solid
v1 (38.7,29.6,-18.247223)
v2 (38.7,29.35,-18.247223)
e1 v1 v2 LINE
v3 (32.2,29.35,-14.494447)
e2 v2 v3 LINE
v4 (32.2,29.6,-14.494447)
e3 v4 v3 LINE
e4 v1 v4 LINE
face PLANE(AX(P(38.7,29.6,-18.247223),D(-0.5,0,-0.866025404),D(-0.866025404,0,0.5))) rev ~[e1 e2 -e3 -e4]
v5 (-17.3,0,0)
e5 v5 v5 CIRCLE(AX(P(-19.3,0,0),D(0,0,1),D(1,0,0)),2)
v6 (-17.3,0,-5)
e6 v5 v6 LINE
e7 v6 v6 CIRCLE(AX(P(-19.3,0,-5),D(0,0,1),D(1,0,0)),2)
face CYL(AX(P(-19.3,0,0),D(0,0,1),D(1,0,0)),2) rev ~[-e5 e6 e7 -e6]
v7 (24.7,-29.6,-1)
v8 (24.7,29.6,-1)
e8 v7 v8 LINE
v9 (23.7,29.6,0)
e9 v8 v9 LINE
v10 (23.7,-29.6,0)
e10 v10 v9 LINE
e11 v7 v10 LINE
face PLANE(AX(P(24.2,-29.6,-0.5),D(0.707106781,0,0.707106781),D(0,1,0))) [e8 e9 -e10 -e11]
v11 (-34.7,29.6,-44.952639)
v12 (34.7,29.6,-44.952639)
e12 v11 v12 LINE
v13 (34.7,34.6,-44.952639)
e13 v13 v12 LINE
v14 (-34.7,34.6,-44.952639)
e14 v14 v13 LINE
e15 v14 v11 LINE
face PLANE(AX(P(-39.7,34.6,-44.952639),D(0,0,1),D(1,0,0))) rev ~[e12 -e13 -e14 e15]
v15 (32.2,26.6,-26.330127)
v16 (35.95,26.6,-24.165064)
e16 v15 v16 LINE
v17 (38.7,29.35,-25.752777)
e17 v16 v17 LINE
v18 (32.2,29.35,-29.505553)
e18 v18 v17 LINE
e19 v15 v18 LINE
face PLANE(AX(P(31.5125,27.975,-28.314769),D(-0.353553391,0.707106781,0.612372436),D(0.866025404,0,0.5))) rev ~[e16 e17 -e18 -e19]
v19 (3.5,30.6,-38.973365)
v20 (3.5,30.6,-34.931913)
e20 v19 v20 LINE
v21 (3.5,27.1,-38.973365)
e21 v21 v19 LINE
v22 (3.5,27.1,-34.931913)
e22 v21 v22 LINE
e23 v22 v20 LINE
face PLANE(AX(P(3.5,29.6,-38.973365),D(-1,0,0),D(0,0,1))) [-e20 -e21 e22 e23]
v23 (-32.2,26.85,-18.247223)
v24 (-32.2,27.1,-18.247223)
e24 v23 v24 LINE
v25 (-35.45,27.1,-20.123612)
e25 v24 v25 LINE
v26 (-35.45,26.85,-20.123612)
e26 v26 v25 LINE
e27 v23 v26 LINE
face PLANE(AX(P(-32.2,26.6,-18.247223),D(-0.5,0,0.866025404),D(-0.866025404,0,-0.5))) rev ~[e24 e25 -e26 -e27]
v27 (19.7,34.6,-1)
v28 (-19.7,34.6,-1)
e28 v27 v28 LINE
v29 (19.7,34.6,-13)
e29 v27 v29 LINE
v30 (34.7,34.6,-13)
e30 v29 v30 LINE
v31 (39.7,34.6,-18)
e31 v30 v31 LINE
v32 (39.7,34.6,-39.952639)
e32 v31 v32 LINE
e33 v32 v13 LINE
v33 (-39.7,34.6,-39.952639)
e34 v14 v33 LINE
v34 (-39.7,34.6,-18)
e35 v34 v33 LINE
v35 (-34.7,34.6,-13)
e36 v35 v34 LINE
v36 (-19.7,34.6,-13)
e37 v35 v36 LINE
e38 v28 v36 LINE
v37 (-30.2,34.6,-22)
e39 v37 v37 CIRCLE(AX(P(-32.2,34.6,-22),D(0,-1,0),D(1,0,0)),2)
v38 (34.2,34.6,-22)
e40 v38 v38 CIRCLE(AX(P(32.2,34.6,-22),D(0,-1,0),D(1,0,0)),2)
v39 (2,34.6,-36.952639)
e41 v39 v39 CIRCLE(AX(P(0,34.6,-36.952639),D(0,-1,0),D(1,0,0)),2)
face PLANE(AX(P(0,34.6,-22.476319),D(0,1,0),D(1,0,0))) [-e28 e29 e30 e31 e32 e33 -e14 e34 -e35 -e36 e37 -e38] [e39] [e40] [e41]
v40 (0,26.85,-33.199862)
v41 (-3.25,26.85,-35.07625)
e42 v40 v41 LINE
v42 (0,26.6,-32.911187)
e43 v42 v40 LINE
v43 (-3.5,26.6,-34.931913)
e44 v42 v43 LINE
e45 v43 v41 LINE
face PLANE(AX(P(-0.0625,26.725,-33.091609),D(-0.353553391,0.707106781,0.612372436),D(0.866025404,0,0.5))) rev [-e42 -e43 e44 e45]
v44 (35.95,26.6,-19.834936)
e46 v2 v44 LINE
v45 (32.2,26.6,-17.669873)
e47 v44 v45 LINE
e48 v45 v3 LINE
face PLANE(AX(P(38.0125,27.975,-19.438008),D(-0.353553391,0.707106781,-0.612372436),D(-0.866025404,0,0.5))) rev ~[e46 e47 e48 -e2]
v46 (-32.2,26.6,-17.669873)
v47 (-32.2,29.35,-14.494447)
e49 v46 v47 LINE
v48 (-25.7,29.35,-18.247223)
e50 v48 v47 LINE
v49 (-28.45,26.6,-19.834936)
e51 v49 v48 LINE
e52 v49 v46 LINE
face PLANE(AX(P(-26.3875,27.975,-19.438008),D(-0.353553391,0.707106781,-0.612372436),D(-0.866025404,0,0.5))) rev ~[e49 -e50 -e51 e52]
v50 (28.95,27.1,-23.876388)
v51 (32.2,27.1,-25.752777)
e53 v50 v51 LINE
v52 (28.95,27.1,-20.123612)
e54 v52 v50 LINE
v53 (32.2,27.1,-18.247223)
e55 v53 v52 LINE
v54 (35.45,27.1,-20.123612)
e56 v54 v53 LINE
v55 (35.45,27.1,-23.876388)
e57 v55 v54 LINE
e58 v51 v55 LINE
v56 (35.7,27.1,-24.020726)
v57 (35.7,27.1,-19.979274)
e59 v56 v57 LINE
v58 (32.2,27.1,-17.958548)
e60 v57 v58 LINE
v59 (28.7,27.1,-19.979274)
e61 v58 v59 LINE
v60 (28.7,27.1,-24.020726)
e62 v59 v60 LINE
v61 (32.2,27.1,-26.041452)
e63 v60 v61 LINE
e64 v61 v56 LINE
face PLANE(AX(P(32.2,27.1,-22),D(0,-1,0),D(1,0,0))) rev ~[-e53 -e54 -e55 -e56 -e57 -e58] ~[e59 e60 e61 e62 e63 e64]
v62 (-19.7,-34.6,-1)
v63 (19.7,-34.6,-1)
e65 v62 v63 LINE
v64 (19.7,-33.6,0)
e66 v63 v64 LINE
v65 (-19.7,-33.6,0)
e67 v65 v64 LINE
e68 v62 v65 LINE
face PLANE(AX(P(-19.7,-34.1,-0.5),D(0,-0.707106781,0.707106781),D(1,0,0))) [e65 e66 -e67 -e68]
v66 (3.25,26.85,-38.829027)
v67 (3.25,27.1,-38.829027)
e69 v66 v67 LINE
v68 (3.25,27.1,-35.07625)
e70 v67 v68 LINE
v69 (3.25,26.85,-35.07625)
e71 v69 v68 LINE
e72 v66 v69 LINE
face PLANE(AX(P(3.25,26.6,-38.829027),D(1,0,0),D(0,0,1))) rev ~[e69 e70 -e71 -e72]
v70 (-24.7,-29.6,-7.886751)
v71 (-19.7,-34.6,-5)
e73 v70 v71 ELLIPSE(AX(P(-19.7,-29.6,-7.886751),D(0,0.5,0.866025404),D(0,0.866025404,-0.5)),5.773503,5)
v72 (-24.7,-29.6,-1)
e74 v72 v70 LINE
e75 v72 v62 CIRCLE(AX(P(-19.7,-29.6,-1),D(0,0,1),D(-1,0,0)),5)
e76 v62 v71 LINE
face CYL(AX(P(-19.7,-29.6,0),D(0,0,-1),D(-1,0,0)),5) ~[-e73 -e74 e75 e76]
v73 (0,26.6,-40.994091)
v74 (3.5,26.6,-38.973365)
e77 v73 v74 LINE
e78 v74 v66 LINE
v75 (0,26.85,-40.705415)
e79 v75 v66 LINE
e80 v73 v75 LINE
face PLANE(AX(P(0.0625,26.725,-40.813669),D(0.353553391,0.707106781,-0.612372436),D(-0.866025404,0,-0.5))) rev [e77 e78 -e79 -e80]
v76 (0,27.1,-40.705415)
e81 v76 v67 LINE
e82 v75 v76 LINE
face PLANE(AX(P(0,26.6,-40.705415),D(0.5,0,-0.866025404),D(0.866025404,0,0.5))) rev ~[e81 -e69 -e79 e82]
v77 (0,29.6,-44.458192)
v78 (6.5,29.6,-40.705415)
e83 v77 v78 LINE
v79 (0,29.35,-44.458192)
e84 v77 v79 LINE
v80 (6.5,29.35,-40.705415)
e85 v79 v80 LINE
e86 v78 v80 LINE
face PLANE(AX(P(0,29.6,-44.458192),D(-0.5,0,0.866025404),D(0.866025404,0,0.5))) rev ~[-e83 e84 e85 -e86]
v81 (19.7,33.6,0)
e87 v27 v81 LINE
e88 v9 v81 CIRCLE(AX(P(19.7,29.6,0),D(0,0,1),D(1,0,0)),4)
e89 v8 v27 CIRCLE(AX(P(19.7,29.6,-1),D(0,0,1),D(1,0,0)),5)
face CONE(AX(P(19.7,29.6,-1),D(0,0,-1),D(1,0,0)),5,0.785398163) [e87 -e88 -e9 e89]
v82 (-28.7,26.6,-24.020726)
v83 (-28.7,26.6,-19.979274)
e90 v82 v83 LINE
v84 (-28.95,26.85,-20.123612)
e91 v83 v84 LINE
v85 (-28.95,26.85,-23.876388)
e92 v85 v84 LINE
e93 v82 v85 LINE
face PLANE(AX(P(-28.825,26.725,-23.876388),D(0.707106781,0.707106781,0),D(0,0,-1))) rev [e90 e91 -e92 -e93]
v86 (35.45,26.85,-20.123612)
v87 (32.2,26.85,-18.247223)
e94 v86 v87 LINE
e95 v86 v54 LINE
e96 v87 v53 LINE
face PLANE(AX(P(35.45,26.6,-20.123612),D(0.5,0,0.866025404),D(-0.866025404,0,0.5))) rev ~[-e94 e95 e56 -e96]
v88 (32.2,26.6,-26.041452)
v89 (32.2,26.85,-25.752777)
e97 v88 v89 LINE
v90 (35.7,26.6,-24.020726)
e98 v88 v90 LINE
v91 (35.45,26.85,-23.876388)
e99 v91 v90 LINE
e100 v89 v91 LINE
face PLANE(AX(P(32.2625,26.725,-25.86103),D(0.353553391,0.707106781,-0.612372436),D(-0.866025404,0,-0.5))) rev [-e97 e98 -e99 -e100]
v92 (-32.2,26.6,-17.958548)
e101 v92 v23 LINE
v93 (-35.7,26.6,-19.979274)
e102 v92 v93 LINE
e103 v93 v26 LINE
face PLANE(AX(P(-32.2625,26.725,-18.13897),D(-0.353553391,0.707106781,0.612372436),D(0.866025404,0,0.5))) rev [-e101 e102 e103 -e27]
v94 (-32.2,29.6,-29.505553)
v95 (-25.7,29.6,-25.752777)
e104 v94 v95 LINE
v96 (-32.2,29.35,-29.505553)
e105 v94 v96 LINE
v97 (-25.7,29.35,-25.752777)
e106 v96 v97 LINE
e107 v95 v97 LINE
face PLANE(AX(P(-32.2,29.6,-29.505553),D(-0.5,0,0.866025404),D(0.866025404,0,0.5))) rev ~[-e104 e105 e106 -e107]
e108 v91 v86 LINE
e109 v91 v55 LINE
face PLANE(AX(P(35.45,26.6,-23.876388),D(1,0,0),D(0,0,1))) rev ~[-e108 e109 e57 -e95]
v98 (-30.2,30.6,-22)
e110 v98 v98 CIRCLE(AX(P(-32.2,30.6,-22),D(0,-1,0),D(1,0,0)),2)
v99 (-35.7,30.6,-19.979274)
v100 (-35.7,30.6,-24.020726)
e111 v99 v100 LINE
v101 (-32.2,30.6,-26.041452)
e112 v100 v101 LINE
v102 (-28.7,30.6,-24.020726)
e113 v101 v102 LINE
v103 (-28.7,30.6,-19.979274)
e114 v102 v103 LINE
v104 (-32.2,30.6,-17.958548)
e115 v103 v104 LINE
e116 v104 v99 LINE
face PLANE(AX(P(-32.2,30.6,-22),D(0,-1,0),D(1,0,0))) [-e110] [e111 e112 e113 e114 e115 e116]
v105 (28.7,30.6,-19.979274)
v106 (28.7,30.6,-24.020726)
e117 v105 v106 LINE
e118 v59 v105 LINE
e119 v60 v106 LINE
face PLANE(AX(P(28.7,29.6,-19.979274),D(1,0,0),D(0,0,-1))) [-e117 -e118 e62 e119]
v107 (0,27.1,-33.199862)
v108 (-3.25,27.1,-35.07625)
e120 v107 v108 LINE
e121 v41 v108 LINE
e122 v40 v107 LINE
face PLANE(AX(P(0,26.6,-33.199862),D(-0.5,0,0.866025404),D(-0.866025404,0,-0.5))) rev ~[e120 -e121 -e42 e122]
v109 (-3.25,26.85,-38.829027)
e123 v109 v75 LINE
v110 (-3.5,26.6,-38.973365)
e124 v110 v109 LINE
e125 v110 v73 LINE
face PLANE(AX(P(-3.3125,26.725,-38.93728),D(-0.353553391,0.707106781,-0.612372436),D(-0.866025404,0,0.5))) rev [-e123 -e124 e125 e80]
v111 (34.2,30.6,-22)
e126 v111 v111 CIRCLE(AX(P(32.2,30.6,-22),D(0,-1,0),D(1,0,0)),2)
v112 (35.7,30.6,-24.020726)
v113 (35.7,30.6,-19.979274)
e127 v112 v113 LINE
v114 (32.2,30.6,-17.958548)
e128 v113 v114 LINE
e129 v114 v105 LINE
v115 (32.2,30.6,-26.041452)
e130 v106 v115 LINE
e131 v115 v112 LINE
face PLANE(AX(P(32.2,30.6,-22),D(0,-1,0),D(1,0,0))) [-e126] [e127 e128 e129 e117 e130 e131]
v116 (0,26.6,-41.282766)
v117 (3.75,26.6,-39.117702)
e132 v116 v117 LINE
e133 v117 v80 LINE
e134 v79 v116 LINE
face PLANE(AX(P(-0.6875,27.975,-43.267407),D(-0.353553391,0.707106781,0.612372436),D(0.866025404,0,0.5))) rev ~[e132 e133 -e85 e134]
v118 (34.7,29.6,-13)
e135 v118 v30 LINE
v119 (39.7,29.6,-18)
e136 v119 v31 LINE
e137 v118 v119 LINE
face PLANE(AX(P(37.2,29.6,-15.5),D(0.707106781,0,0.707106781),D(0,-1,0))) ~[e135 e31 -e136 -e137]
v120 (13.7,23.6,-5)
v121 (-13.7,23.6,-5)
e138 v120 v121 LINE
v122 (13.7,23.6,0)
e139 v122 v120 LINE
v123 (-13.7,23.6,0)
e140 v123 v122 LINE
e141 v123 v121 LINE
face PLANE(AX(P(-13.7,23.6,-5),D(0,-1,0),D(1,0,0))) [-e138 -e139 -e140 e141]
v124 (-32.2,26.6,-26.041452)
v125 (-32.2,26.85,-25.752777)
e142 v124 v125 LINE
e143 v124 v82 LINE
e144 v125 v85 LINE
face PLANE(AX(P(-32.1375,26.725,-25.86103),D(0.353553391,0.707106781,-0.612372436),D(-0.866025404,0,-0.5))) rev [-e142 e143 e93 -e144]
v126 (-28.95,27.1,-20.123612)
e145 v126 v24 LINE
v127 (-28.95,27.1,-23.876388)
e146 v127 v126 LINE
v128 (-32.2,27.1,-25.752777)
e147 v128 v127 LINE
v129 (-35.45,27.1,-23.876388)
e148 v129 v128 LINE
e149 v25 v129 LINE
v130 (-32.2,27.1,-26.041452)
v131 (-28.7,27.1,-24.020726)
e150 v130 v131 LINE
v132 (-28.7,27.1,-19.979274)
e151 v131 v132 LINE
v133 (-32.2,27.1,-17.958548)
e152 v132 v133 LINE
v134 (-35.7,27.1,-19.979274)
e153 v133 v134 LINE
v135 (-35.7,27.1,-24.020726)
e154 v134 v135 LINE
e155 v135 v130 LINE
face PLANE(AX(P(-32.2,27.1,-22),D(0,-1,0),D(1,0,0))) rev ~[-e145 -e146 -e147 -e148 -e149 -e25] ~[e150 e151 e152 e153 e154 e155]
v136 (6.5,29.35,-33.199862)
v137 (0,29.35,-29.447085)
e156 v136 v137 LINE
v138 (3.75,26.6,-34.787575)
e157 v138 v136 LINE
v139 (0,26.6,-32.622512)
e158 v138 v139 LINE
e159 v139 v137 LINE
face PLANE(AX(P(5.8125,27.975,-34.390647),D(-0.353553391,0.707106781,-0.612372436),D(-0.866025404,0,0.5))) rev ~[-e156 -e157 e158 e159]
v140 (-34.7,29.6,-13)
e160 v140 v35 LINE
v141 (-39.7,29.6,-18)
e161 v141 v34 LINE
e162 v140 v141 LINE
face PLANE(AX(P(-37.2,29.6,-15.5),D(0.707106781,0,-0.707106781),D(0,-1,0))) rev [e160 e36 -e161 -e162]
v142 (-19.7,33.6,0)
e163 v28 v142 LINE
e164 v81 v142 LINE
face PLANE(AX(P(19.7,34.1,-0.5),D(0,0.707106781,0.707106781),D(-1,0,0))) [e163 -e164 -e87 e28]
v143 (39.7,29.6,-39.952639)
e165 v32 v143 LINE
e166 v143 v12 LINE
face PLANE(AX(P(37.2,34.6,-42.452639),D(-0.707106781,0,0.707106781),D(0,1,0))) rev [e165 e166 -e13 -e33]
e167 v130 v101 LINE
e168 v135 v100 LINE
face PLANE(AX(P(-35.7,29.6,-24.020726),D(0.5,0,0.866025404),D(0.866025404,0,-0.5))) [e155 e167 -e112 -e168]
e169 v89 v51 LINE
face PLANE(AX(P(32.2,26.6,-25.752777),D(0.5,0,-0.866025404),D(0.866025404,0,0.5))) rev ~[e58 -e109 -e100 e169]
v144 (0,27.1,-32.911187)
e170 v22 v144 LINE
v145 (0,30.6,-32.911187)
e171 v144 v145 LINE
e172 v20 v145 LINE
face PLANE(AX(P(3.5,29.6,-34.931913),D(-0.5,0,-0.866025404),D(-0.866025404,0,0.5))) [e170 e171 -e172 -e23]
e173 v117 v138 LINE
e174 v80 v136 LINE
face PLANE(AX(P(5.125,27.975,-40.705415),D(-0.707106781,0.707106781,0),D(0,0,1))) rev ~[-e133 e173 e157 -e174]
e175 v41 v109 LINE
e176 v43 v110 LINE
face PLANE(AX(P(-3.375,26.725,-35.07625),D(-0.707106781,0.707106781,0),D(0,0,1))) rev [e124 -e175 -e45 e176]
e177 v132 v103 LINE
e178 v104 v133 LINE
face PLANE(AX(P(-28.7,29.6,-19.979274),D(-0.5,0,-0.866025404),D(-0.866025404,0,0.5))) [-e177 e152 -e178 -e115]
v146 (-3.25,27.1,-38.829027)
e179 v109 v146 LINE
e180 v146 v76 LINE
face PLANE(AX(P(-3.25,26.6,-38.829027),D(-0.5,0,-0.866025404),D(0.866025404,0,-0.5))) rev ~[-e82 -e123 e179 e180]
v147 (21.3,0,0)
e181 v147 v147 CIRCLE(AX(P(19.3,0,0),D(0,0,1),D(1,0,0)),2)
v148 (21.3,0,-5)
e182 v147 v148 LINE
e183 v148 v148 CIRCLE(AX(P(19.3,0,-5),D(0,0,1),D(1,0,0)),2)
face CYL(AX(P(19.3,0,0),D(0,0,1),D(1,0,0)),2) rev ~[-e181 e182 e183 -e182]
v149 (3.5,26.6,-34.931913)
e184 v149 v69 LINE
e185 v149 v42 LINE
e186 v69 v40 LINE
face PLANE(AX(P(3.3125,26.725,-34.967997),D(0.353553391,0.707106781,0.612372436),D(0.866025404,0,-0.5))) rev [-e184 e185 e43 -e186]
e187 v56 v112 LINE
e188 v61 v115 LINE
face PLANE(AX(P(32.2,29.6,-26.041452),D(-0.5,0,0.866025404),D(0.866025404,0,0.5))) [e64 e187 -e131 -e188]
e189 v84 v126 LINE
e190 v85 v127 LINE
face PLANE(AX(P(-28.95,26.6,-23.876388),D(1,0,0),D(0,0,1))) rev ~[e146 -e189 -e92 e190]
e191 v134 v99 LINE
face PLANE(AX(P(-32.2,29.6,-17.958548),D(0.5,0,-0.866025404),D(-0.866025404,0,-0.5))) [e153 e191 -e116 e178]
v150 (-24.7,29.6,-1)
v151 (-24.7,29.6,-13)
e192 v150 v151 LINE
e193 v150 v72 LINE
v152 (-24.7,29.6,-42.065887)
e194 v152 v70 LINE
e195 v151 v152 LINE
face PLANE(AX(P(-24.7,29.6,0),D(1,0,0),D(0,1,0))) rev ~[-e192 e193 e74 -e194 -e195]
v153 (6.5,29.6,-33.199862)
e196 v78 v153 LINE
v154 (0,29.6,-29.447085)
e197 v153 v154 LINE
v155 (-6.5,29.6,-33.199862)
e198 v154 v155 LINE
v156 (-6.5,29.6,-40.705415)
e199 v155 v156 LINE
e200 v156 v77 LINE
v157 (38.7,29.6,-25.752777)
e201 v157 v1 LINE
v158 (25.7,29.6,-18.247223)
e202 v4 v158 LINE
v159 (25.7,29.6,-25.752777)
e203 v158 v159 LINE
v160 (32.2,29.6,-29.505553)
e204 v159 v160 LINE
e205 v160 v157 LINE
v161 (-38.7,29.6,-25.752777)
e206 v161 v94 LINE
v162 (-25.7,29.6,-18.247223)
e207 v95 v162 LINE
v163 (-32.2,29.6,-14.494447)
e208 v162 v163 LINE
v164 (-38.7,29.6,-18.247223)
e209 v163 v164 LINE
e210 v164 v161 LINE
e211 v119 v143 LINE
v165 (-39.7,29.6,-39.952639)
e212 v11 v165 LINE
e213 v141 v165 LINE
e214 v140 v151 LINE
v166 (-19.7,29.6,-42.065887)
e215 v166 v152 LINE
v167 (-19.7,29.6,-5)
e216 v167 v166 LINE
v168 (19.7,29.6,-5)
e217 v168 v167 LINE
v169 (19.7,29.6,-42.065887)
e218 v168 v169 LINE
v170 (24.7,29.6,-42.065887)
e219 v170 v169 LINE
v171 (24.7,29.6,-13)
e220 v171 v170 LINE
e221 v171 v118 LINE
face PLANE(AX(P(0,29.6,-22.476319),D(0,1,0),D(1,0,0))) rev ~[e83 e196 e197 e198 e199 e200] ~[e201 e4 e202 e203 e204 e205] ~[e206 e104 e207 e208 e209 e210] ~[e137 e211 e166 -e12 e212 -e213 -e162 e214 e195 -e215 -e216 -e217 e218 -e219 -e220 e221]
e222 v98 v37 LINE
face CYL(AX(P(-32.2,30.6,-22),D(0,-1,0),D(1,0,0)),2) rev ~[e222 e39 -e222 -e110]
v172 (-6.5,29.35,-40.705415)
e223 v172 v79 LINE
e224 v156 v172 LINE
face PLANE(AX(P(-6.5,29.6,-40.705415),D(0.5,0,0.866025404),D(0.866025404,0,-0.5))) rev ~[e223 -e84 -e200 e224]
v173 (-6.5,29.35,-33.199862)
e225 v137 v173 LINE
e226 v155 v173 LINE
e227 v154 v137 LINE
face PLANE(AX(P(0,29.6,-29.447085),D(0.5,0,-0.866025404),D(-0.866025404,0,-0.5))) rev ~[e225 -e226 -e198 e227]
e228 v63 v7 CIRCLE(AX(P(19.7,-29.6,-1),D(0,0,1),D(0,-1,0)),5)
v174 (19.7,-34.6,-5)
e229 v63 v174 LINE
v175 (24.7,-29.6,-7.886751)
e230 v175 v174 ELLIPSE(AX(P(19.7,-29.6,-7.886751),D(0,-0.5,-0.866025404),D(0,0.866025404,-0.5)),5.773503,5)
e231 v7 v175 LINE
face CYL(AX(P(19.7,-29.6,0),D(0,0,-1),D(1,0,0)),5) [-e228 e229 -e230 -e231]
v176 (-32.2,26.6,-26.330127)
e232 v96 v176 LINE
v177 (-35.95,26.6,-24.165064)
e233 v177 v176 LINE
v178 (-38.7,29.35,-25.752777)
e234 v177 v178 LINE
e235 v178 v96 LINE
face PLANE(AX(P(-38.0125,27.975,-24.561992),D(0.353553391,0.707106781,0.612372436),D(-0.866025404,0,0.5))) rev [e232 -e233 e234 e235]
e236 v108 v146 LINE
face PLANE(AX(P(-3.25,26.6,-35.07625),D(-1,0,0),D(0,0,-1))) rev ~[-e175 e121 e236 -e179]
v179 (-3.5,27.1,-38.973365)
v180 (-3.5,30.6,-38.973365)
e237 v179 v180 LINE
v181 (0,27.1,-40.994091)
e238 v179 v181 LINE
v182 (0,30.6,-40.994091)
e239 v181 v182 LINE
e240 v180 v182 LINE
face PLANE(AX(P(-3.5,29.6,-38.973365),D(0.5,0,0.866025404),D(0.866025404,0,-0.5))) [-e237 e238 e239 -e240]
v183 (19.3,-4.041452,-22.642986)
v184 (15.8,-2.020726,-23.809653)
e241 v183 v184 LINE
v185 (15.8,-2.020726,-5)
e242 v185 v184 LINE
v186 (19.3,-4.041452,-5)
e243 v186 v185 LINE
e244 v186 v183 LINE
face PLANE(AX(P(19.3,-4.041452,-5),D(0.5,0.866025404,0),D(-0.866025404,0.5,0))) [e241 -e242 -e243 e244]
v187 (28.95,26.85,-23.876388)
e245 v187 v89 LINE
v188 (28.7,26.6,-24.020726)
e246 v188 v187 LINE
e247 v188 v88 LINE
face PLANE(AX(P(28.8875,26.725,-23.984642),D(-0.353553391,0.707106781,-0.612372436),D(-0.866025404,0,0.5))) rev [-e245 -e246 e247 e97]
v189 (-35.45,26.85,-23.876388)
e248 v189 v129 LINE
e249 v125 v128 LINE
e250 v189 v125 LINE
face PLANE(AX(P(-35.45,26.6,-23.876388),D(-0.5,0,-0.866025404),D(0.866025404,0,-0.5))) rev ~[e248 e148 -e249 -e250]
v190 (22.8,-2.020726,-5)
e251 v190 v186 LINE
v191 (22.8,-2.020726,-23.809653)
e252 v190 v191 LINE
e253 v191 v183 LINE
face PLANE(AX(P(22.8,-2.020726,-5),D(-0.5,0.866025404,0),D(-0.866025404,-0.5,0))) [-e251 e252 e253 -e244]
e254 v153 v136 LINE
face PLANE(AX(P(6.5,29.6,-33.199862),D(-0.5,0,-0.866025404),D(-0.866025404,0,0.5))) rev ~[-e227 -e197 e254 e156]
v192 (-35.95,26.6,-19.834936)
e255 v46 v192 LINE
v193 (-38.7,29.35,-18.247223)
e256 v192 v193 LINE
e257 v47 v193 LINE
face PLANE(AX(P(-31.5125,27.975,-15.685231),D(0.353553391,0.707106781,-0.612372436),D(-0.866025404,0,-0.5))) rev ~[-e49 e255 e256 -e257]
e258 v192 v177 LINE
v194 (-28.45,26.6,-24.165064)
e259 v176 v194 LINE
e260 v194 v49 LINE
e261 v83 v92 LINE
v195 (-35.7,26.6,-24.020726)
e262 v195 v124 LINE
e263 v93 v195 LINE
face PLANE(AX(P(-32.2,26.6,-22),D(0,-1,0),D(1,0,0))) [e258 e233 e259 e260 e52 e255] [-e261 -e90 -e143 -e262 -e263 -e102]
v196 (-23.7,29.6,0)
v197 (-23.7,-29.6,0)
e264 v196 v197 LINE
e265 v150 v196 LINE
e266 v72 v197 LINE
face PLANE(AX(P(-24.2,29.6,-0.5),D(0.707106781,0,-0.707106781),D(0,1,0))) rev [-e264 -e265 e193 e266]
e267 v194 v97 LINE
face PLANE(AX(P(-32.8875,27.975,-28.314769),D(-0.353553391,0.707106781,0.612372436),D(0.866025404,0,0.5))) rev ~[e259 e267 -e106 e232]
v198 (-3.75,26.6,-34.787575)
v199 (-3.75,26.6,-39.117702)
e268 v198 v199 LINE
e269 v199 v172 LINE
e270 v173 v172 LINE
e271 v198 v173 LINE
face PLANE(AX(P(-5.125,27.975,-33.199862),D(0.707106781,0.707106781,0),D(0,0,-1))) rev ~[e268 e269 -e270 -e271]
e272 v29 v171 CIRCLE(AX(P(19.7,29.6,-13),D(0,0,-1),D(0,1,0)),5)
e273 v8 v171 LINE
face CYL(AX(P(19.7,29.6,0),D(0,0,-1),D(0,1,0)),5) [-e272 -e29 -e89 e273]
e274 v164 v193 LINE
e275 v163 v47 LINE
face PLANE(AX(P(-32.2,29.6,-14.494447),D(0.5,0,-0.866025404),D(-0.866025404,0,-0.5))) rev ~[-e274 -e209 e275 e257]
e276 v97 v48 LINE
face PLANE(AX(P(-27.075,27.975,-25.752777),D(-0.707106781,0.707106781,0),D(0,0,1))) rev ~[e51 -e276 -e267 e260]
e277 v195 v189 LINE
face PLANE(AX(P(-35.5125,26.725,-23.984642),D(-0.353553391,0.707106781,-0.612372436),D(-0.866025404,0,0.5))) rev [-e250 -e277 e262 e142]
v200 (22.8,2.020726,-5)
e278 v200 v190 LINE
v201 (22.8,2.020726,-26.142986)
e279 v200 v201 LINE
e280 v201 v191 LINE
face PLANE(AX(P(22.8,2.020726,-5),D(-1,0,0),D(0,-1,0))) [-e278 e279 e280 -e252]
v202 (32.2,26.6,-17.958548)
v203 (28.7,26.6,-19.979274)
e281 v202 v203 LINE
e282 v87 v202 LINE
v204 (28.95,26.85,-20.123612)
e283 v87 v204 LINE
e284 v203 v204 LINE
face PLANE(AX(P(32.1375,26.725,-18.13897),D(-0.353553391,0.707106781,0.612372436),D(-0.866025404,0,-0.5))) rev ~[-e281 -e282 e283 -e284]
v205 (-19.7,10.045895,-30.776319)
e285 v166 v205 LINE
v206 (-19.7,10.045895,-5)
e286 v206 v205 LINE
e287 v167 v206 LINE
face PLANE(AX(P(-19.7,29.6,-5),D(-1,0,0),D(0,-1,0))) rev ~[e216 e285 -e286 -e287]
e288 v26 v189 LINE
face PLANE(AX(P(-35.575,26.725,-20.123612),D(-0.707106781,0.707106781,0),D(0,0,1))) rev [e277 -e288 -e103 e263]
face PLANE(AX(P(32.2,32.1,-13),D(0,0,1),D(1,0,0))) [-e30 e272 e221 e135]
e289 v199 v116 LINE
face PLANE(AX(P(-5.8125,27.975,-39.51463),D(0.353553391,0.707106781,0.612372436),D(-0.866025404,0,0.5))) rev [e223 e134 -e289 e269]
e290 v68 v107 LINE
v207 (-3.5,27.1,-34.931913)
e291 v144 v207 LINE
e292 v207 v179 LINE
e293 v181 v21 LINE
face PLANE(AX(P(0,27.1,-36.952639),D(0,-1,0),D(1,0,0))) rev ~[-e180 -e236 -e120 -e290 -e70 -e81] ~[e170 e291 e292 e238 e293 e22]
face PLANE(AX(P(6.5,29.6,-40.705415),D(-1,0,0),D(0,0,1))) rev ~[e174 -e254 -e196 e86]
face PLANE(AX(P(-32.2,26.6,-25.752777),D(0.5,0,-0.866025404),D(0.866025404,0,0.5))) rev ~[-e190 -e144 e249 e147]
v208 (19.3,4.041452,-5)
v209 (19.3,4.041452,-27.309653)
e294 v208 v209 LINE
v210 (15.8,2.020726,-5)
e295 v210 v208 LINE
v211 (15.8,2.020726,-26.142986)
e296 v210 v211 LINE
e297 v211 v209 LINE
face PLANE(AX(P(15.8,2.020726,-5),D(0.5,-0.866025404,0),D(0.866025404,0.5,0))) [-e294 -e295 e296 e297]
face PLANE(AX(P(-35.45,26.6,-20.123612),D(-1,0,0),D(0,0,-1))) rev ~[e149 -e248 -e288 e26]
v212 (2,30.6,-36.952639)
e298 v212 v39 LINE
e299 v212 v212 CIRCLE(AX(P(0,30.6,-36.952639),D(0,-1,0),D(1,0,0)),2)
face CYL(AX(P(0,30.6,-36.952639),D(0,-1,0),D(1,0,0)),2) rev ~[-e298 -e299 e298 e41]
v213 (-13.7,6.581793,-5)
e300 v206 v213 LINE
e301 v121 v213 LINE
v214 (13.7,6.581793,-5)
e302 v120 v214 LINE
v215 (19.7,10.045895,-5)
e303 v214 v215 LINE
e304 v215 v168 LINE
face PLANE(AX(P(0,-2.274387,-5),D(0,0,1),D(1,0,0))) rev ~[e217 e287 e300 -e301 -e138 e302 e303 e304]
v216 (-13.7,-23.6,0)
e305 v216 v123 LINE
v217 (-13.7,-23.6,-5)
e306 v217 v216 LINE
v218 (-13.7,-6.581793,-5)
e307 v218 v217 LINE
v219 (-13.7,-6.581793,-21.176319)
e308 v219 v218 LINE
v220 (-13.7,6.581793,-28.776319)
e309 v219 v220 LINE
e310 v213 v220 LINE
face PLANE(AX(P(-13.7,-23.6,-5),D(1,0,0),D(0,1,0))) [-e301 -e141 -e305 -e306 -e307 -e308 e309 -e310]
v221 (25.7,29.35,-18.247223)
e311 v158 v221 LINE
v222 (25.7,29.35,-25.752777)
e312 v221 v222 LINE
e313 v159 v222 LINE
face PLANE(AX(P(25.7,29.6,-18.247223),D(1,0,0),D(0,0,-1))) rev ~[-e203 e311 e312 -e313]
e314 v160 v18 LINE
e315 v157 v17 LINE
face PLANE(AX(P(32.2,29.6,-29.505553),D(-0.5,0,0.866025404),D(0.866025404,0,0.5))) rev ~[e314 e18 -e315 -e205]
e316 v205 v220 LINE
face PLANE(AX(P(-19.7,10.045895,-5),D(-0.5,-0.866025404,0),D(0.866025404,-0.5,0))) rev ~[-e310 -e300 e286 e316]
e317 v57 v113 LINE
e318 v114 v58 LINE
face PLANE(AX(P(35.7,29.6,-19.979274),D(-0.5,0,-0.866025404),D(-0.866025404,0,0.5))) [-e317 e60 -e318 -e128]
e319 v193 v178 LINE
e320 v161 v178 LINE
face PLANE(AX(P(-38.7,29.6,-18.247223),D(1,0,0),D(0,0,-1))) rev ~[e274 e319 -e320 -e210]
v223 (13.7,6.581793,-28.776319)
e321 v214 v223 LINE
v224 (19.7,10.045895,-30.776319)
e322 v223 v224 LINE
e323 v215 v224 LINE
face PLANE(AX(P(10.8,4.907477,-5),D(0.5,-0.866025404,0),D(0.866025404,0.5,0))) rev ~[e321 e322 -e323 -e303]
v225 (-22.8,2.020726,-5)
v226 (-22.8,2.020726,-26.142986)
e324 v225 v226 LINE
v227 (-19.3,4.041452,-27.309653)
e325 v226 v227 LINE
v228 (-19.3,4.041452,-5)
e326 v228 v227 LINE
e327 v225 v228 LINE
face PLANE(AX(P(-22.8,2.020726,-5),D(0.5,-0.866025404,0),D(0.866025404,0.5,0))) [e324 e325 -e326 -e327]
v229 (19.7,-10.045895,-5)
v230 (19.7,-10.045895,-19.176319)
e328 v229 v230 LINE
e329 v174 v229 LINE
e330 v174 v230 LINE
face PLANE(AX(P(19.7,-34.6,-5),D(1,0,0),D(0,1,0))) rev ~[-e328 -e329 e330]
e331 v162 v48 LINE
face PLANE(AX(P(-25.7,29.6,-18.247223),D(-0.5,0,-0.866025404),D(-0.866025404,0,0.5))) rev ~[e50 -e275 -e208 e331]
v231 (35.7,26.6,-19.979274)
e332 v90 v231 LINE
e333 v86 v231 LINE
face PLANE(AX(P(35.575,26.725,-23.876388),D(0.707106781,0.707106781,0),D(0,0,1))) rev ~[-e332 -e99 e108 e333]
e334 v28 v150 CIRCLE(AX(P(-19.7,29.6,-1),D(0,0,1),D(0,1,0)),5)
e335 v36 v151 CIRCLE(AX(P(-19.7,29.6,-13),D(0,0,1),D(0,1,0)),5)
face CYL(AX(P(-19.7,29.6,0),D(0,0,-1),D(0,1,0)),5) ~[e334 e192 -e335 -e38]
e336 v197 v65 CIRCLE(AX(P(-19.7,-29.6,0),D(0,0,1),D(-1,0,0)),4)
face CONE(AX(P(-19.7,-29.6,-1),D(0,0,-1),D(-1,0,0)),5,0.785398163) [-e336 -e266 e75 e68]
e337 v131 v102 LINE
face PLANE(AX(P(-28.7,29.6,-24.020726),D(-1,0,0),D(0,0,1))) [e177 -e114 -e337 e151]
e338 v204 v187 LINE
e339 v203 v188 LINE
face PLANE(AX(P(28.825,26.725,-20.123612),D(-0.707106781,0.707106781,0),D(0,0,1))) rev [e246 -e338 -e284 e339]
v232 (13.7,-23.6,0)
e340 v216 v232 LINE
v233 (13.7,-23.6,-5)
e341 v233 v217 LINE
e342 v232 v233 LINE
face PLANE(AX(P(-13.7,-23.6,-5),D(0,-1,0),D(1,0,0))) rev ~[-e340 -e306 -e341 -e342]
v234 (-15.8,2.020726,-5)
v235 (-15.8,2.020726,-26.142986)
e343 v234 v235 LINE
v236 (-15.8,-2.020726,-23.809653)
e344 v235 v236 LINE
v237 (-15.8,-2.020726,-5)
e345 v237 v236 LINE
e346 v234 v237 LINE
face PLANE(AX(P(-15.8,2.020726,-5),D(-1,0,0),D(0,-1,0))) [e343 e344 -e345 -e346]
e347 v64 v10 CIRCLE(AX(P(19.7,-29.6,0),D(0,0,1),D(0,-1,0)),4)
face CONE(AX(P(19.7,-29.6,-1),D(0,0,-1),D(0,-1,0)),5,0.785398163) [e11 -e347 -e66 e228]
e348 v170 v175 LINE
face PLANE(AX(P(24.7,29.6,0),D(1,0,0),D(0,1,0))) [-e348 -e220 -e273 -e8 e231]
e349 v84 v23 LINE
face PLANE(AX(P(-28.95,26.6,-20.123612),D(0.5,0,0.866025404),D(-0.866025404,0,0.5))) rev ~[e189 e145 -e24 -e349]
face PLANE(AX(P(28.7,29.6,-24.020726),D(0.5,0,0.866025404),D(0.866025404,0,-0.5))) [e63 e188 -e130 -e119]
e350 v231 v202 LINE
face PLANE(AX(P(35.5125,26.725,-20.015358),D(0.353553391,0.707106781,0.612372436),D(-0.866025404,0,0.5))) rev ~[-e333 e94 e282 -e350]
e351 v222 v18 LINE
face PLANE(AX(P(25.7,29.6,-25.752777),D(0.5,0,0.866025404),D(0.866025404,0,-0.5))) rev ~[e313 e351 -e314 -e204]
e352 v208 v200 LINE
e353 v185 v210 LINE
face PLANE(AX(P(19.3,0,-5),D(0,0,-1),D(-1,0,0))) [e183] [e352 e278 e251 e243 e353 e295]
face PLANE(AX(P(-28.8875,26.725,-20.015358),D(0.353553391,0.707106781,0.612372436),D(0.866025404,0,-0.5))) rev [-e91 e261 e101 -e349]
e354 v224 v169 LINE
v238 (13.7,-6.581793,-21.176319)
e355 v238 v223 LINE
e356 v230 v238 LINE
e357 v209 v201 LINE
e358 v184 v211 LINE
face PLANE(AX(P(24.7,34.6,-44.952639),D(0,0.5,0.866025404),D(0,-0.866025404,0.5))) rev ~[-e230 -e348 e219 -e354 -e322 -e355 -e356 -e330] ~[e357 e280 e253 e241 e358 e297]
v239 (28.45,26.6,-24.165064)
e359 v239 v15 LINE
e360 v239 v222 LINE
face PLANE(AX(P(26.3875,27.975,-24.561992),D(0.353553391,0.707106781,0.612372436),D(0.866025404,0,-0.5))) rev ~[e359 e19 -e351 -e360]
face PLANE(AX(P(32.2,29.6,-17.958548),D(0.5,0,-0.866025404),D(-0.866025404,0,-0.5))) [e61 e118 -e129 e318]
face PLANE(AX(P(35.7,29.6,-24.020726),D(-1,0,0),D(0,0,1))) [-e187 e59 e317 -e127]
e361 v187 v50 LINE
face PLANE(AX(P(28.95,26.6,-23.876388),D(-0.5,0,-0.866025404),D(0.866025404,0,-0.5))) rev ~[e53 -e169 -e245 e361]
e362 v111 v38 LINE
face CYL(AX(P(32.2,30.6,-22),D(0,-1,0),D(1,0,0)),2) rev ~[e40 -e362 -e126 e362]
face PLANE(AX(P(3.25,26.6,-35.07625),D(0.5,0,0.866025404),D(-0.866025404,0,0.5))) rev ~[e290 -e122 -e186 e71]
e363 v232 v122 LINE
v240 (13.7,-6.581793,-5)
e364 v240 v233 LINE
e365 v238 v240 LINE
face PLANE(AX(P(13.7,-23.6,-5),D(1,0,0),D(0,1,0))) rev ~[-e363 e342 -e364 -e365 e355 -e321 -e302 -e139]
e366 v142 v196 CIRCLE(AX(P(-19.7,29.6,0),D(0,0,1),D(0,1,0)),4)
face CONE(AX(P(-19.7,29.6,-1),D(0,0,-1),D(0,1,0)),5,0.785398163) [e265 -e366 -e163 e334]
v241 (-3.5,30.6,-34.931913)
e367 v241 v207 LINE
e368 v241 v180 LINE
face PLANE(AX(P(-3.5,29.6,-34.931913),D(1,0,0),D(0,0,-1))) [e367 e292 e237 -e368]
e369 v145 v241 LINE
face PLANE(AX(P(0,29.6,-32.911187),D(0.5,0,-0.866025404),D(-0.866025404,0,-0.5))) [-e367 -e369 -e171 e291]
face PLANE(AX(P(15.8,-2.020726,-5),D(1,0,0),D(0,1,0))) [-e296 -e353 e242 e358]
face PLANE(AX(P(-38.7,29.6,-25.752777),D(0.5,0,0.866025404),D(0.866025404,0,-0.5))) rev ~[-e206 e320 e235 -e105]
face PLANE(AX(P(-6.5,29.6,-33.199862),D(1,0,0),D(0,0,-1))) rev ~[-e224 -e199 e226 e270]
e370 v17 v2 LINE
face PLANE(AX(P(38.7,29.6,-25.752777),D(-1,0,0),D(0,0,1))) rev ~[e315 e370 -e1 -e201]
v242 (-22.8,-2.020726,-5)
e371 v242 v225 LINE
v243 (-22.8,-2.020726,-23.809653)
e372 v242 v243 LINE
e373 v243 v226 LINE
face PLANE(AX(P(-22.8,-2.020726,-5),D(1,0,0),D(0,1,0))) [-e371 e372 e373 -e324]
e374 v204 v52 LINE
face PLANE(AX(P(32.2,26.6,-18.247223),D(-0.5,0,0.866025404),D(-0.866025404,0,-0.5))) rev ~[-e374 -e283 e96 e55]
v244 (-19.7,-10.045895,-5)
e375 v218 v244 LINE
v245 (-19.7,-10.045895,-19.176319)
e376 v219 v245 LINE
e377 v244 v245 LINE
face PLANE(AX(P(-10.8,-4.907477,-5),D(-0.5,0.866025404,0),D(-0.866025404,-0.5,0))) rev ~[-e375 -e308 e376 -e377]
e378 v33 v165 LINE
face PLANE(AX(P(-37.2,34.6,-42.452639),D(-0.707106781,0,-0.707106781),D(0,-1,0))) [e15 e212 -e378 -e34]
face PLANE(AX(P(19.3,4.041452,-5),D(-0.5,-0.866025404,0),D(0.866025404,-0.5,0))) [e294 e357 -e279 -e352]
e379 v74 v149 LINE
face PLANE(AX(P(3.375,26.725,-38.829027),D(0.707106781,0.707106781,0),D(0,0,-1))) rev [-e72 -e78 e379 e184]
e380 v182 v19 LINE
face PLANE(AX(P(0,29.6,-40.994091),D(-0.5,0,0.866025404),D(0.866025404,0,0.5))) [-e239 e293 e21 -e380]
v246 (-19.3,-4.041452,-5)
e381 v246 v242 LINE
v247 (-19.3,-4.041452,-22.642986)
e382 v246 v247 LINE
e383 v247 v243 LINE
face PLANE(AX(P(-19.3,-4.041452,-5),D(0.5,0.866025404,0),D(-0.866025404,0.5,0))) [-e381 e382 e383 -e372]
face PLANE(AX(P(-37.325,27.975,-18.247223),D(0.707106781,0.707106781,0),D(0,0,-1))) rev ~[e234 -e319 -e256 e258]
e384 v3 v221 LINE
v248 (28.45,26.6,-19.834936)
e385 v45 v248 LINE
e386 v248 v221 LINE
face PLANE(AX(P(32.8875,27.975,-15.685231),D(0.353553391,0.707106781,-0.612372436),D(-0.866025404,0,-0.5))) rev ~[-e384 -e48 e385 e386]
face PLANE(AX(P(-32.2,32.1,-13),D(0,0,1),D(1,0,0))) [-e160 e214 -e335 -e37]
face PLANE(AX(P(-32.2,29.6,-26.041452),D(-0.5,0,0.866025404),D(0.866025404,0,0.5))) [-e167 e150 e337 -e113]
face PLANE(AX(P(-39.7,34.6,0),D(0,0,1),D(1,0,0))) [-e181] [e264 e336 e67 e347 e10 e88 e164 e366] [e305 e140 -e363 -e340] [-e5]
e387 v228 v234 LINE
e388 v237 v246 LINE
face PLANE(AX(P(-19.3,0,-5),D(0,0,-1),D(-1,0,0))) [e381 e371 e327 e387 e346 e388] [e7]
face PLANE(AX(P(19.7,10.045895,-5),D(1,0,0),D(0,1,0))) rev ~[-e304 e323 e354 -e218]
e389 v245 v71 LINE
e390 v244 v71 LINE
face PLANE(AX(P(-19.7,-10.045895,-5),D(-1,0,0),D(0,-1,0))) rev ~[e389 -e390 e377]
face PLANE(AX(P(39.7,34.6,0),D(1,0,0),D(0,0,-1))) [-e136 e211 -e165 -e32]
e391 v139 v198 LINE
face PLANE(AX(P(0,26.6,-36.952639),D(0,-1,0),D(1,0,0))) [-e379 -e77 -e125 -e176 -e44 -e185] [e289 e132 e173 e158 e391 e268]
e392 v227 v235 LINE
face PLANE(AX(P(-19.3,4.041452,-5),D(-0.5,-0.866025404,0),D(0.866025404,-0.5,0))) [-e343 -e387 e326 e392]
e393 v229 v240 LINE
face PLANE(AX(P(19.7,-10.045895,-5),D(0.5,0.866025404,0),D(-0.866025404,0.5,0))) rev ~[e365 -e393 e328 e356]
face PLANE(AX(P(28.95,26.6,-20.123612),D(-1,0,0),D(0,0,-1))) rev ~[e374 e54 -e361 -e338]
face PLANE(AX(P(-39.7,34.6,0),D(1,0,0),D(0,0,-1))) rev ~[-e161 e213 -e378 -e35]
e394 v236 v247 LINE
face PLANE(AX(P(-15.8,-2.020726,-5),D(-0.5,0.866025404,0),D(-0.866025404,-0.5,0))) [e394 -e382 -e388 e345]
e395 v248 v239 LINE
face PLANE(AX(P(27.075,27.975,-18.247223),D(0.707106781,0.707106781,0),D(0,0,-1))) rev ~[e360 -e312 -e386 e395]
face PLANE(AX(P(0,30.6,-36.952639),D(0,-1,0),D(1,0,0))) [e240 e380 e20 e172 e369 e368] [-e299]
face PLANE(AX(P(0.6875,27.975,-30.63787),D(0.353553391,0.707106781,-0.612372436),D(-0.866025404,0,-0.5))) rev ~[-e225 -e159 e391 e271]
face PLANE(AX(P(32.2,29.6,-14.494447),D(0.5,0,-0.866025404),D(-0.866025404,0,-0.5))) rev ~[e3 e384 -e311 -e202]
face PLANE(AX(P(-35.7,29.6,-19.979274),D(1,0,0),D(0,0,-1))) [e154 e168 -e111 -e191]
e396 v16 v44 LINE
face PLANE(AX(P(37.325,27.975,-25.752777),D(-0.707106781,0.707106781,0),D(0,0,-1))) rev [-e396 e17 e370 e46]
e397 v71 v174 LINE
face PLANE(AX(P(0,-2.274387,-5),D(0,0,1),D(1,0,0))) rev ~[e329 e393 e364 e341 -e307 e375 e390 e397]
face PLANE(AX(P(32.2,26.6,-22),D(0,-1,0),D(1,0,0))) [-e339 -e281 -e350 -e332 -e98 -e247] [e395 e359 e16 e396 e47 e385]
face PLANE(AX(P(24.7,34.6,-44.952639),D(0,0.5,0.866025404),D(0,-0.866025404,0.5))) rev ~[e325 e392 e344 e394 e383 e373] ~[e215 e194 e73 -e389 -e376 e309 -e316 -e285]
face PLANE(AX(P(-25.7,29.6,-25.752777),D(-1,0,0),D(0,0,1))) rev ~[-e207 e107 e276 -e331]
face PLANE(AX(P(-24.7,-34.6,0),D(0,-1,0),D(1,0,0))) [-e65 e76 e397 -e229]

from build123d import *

# Parameters (mm, degrees)
SKETCH1_W           = 49.4
SKETCH1_H           = 69.2
SKETCH1_W_2         = 27.4
SKETCH1_H_2         = 47.2
BOSS_EXTRUDE1_DEPTH = 5
SKETCH2_R           = 2
CUT_EXTRUDE1_DEPTH  = 15
BOSS_EXTRUDE2_DEPTH = 49.4
CUT_EXTRUDE2_DEPTH  = 40.952638628
SKETCH5_W           = 27.4
SKETCH5_H           = 47.2
CUT_EXTRUDE3_DEPTH  = 93
CUT_EXTRUDE4_START  = -5
CUT_EXTRUDE4_DEPTH  = 93
SKETCH7_W           = 79.4
SKETCH7_H           = 44.952638628
BOSS_EXTRUDE3_DEPTH = 5
BOSS_EXTRUDE4_DEPTH = 3
CUT_EXTRUDE5_DEPTH  = 1
SKETCH10_R          = 2
CUT_EXTRUDE6_DEPTH  = 5
SKETCH11_W          = 15
SKETCH11_H          = 5
CUT_EXTRUDE7_DEPTH  = 13
CHAMFER1_SIZE       = 2.75
BOSS_EXTRUDE5_DEPTH = 0.5
CHAMFER2_SIZE       = 0.25
FILLET1_R           = 5
CHAMFER3_SIZE       = 1
CHAMFER4_SIZE       = 5


with BuildPart() as part:
    # Sketch1 → Boss-Extrude1 (new body)
    with BuildSketch(Plane.XY):
        Rectangle(SKETCH1_W, SKETCH1_H)
        Rectangle(SKETCH1_W_2, SKETCH1_H_2, mode=Mode.SUBTRACT)
    extrude(amount=-BOSS_EXTRUDE1_DEPTH)

    # Sketch2 → Cut-Extrude1 (cut)
    with BuildSketch(Plane.XY):
        with Locations((19.3, 0)):
            Circle(SKETCH2_R)
        with Locations((-19.3, 0)):
            Circle(SKETCH2_R)
    extrude(amount=-CUT_EXTRUDE1_DEPTH, mode=Mode.SUBTRACT)

    # Sketch4 → Boss-Extrude2 (add)
    with BuildSketch(Plane(origin=(24.7, 0, 0), x_dir=(0, 0, -1), z_dir=(1, 0, 0))):
        Polygon((5, 34.6), (44.952638628, 34.6), (5, -34.6), align=None)
    extrude(amount=-BOSS_EXTRUDE2_DEPTH)

    # Sketch3 → Cut-Extrude2 (cut, through all)
    with BuildSketch(Plane(origin=(0, 0, -5), x_dir=(-1, 0, 0), z_dir=(0, 0, -1))):
        Polygon((-19.3, -4.041451884), (-15.8, -2.020725942), (-15.8, 2.020725942), (-19.3, 4.041451884), (-22.8, 2.020725942), (-22.8, -2.020725942), align=None)
        Polygon((19.3, -4.041451884), (22.8, -2.020725942), (22.8, 2.020725942), (19.3, 4.041451884), (15.8, 2.020725942), (15.8, -2.020725942), align=None)
    extrude(amount=CUT_EXTRUDE2_DEPTH, mode=Mode.SUBTRACT)

    # Sketch5 → Cut-Extrude3 (cut)
    with BuildSketch(Plane.XY.offset(-5)):
        Rectangle(SKETCH5_W, SKETCH5_H)
    extrude(amount=-CUT_EXTRUDE3_DEPTH, mode=Mode.SUBTRACT)

    # Sketch6 → Cut-Extrude4 (cut)
    with BuildSketch(Plane.XY.offset(CUT_EXTRUDE4_START)):
        Polygon((19.7, 29.6), (-19.7, 29.6), (-19.7, 10.045894684), (-10.8, 4.907477288), (-10.8, -4.907477288), (-19.7, -10.045894684), (-19.7, -34.6), (19.7, -34.6), (19.7, -10.045894684), (10.8, -4.907477288), (10.8, 4.907477288), (19.7, 10.045894684), align=None)
    extrude(amount=-CUT_EXTRUDE4_DEPTH, mode=Mode.SUBTRACT)

    # Sketch7 → Boss-Extrude3 (add)
    with BuildSketch(Plane(origin=(0, 34.6, 0), x_dir=(1, 0, 0), z_dir=(0, 1, 0))):
        with Locations((0, 22.476319314)):
            Rectangle(SKETCH7_W, SKETCH7_H)
    extrude(amount=-BOSS_EXTRUDE3_DEPTH)

    # Sketch8 → Boss-Extrude4 (add)
    with BuildSketch(Plane.XZ.offset(-29.6)):
        Polygon((25.7, -25.75277675), (32.2, -29.505553499), (38.7, -25.75277675), (38.7, -18.24722325), (32.2, -14.494446501), (25.7, -18.24722325), align=None)
        Polygon((32.2, -17.958548116), (28.7, -19.979274058), (28.7, -24.020725942), (32.2, -26.041451884), (35.7, -24.020725942), (35.7, -19.979274058), align=None, mode=Mode.SUBTRACT)
        Polygon((-32.2, -14.494446501), (-38.7, -18.24722325), (-38.7, -25.75277675), (-32.2, -29.505553499), (-25.7, -25.75277675), (-25.7, -18.24722325), align=None)
        Polygon((-32.2, -17.958548116), (-35.7, -19.979274058), (-35.7, -24.020725942), (-32.2, -26.041451884), (-28.7, -24.020725942), (-28.7, -19.979274058), align=None, mode=Mode.SUBTRACT)
        Polygon((0, -29.447085128), (-6.5, -33.199861878), (-6.5, -40.705415378), (0, -44.458192127), (6.5, -40.705415378), (6.5, -33.199861878), align=None)
        Polygon((-3.5, -34.931912686), (-3.5, -38.97336457), (0, -40.994090512), (3.5, -38.97336457), (3.5, -34.931912686), (0, -32.911186744), align=None, mode=Mode.SUBTRACT)
    extrude(amount=BOSS_EXTRUDE4_DEPTH)

    # Sketch9 → Cut-Extrude5 (cut)
    with BuildSketch(Plane.XZ.offset(-29.6)):
        Polygon((35.7, -24.020725942), (35.7, -19.979274058), (32.2, -17.958548116), (28.7, -19.979274058), (28.7, -24.020725942), (32.2, -26.041451884), align=None)
        Polygon((3.5, -34.931912686), (0, -32.911186744), (-3.5, -34.931912686), (-3.5, -38.97336457), (0, -40.994090512), (3.5, -38.97336457), align=None)
        Polygon((-28.7, -24.020725942), (-28.7, -19.979274058), (-32.2, -17.958548116), (-35.7, -19.979274058), (-35.7, -24.020725942), (-32.2, -26.041451884), align=None)
    extrude(amount=-CUT_EXTRUDE5_DEPTH, mode=Mode.SUBTRACT)

    # Sketch10 → Cut-Extrude6 (cut, through all)
    with BuildSketch(Plane.XZ.offset(-30.6)):
        with Locations((32.2, -22)):
            Circle(SKETCH10_R)
        with Locations((0, -36.952638628)):
            Circle(SKETCH10_R)
        with Locations((-32.2, -22)):
            Circle(SKETCH10_R)
    extrude(amount=-CUT_EXTRUDE6_DEPTH, mode=Mode.SUBTRACT)

    # Sketch11 → Cut-Extrude7 (cut)
    with BuildSketch(Plane.XY):
        with Locations((32.2, 32.1)):
            Rectangle(SKETCH11_W, SKETCH11_H)
        with Locations((-32.2, 32.1)):
            Rectangle(SKETCH11_W, SKETCH11_H)
    extrude(amount=-CUT_EXTRUDE7_DEPTH, mode=Mode.SUBTRACT)

    # Chamfer1
    chamfer1_edges = [part.edges().sort_by_distance(p)[0] for p in [
        (25.7, 26.6, -22),
        (28.95, 26.6, -27.629165125),
        (35.45, 26.6, -27.629165125),
        (38.7, 26.6, -22),
        (35.45, 26.6, -16.370834875),
        (28.95, 26.6, -16.370834875),
        (-28.95, 26.6, -16.370834875),
        (-35.45, 26.6, -16.370834875),
        (-38.7, 26.6, -22),
        (-35.45, 26.6, -27.629165125),
        (-28.95, 26.6, -27.629165125),
        (-25.7, 26.6, -22),
        (3.25, 26.6, -31.323473503),
        (-3.25, 26.6, -31.323473503),
        (-6.5, 26.6, -36.952638628),
        (-3.25, 26.6, -42.581803753),
        (3.25, 26.6, -42.581803753),
        (6.5, 26.6, -36.952638628),
    ]]
    chamfer(chamfer1_edges, length=CHAMFER1_SIZE)

    # Sketch12 → Boss-Extrude5 (add)
    with BuildSketch(Plane.XZ.offset(-26.6)):
        Polygon((32.2, -26.041451884), (35.7, -24.020725942), (35.7, -19.979274058), (32.2, -17.958548116), (28.7, -19.979274058), (28.7, -24.020725942), align=None)
        Polygon((35.45, -20.123611625), (32.2, -18.24722325), (28.95, -20.123611625), (28.95, -23.876388375), (32.2, -25.75277675), (35.45, -23.876388375), align=None, mode=Mode.SUBTRACT)
        Polygon((3.5, -38.97336457), (3.5, -34.931912686), (0, -32.911186744), (-3.5, -34.931912686), (-3.5, -38.97336457), (0, -40.994090512), align=None)
        Polygon((-3.25, -38.829027003), (0, -40.705415378), (3.25, -38.829027003), (3.25, -35.076250253), (0, -33.199861878), (-3.25, -35.076250253), align=None, mode=Mode.SUBTRACT)
        Polygon((-32.2, -26.041451884), (-28.7, -24.020725942), (-28.7, -19.979274058), (-32.2, -17.958548116), (-35.7, -19.979274058), (-35.7, -24.020725942), align=None)
        Polygon((-35.45, -23.876388375), (-32.2, -25.75277675), (-28.95, -23.876388375), (-28.95, -20.123611625), (-32.2, -18.24722325), (-35.45, -20.123611625), align=None, mode=Mode.SUBTRACT)
    extrude(amount=-BOSS_EXTRUDE5_DEPTH)

    # Chamfer2
    chamfer2_edges = [part.edges().sort_by_distance(p)[0] for p in [
        (35.45, 26.6, -22),
        (33.825, 26.6, -24.814582562),
        (30.575, 26.6, -24.814582562),
        (28.95, 26.6, -22),
        (30.575, 26.6, -19.185417438),
        (33.825, 26.6, -19.185417438),
        (-3.25, 26.6, -36.952638628),
        (-1.625, 26.6, -34.138056066),
        (1.625, 26.6, -34.138056066),
        (3.25, 26.6, -36.952638628),
        (1.625, 26.6, -39.76722119),
        (-1.625, 26.6, -39.76722119),
        (-35.45, 26.6, -22),
        (-33.825, 26.6, -19.185417438),
        (-30.575, 26.6, -19.185417438),
        (-28.95, 26.6, -22),
        (-30.575, 26.6, -24.814582562),
        (-33.825, 26.6, -24.814582562),
    ]]
    chamfer(chamfer2_edges, length=CHAMFER2_SIZE)

    # Fillet1
    fillet1_edges = [part.edges().sort_by_distance(p)[0] for p in [
        (24.7, -34.6, -2.5),
        (-24.7, -34.6, -2.5),
        (-24.7, 34.6, -6.5),
        (24.7, 34.6, -6.5),
    ]]
    fillet(fillet1_edges, radius=FILLET1_R)

    # Chamfer3
    chamfer3_edges = [part.edges().sort_by_distance(p)[0] for p in [
        (0, -34.6, 0),
        (0, 34.6, 0),
        (-24.7, 0, 0),
        (24.7, 0, 0),
        (23.235533906, 33.135533906, 0),
        (-23.235533906, 33.135533906, 0),
        (-23.235533906, -33.135533906, 0),
        (23.235533906, -33.135533906, 0),
    ]]
    chamfer(chamfer3_edges, length=CHAMFER3_SIZE)

    # Chamfer4
    chamfer4_edges = [part.edges().sort_by_distance(p)[0] for p in [
        (-39.7, 32.1, -44.952638628),
        (39.7, 32.1, -44.952638628),
        (39.7, 32.1, -13),
        (-39.7, 32.1, -13),
    ]]
    chamfer(chamfer4_edges, length=CHAMFER4_SIZE)


solid = part.part
